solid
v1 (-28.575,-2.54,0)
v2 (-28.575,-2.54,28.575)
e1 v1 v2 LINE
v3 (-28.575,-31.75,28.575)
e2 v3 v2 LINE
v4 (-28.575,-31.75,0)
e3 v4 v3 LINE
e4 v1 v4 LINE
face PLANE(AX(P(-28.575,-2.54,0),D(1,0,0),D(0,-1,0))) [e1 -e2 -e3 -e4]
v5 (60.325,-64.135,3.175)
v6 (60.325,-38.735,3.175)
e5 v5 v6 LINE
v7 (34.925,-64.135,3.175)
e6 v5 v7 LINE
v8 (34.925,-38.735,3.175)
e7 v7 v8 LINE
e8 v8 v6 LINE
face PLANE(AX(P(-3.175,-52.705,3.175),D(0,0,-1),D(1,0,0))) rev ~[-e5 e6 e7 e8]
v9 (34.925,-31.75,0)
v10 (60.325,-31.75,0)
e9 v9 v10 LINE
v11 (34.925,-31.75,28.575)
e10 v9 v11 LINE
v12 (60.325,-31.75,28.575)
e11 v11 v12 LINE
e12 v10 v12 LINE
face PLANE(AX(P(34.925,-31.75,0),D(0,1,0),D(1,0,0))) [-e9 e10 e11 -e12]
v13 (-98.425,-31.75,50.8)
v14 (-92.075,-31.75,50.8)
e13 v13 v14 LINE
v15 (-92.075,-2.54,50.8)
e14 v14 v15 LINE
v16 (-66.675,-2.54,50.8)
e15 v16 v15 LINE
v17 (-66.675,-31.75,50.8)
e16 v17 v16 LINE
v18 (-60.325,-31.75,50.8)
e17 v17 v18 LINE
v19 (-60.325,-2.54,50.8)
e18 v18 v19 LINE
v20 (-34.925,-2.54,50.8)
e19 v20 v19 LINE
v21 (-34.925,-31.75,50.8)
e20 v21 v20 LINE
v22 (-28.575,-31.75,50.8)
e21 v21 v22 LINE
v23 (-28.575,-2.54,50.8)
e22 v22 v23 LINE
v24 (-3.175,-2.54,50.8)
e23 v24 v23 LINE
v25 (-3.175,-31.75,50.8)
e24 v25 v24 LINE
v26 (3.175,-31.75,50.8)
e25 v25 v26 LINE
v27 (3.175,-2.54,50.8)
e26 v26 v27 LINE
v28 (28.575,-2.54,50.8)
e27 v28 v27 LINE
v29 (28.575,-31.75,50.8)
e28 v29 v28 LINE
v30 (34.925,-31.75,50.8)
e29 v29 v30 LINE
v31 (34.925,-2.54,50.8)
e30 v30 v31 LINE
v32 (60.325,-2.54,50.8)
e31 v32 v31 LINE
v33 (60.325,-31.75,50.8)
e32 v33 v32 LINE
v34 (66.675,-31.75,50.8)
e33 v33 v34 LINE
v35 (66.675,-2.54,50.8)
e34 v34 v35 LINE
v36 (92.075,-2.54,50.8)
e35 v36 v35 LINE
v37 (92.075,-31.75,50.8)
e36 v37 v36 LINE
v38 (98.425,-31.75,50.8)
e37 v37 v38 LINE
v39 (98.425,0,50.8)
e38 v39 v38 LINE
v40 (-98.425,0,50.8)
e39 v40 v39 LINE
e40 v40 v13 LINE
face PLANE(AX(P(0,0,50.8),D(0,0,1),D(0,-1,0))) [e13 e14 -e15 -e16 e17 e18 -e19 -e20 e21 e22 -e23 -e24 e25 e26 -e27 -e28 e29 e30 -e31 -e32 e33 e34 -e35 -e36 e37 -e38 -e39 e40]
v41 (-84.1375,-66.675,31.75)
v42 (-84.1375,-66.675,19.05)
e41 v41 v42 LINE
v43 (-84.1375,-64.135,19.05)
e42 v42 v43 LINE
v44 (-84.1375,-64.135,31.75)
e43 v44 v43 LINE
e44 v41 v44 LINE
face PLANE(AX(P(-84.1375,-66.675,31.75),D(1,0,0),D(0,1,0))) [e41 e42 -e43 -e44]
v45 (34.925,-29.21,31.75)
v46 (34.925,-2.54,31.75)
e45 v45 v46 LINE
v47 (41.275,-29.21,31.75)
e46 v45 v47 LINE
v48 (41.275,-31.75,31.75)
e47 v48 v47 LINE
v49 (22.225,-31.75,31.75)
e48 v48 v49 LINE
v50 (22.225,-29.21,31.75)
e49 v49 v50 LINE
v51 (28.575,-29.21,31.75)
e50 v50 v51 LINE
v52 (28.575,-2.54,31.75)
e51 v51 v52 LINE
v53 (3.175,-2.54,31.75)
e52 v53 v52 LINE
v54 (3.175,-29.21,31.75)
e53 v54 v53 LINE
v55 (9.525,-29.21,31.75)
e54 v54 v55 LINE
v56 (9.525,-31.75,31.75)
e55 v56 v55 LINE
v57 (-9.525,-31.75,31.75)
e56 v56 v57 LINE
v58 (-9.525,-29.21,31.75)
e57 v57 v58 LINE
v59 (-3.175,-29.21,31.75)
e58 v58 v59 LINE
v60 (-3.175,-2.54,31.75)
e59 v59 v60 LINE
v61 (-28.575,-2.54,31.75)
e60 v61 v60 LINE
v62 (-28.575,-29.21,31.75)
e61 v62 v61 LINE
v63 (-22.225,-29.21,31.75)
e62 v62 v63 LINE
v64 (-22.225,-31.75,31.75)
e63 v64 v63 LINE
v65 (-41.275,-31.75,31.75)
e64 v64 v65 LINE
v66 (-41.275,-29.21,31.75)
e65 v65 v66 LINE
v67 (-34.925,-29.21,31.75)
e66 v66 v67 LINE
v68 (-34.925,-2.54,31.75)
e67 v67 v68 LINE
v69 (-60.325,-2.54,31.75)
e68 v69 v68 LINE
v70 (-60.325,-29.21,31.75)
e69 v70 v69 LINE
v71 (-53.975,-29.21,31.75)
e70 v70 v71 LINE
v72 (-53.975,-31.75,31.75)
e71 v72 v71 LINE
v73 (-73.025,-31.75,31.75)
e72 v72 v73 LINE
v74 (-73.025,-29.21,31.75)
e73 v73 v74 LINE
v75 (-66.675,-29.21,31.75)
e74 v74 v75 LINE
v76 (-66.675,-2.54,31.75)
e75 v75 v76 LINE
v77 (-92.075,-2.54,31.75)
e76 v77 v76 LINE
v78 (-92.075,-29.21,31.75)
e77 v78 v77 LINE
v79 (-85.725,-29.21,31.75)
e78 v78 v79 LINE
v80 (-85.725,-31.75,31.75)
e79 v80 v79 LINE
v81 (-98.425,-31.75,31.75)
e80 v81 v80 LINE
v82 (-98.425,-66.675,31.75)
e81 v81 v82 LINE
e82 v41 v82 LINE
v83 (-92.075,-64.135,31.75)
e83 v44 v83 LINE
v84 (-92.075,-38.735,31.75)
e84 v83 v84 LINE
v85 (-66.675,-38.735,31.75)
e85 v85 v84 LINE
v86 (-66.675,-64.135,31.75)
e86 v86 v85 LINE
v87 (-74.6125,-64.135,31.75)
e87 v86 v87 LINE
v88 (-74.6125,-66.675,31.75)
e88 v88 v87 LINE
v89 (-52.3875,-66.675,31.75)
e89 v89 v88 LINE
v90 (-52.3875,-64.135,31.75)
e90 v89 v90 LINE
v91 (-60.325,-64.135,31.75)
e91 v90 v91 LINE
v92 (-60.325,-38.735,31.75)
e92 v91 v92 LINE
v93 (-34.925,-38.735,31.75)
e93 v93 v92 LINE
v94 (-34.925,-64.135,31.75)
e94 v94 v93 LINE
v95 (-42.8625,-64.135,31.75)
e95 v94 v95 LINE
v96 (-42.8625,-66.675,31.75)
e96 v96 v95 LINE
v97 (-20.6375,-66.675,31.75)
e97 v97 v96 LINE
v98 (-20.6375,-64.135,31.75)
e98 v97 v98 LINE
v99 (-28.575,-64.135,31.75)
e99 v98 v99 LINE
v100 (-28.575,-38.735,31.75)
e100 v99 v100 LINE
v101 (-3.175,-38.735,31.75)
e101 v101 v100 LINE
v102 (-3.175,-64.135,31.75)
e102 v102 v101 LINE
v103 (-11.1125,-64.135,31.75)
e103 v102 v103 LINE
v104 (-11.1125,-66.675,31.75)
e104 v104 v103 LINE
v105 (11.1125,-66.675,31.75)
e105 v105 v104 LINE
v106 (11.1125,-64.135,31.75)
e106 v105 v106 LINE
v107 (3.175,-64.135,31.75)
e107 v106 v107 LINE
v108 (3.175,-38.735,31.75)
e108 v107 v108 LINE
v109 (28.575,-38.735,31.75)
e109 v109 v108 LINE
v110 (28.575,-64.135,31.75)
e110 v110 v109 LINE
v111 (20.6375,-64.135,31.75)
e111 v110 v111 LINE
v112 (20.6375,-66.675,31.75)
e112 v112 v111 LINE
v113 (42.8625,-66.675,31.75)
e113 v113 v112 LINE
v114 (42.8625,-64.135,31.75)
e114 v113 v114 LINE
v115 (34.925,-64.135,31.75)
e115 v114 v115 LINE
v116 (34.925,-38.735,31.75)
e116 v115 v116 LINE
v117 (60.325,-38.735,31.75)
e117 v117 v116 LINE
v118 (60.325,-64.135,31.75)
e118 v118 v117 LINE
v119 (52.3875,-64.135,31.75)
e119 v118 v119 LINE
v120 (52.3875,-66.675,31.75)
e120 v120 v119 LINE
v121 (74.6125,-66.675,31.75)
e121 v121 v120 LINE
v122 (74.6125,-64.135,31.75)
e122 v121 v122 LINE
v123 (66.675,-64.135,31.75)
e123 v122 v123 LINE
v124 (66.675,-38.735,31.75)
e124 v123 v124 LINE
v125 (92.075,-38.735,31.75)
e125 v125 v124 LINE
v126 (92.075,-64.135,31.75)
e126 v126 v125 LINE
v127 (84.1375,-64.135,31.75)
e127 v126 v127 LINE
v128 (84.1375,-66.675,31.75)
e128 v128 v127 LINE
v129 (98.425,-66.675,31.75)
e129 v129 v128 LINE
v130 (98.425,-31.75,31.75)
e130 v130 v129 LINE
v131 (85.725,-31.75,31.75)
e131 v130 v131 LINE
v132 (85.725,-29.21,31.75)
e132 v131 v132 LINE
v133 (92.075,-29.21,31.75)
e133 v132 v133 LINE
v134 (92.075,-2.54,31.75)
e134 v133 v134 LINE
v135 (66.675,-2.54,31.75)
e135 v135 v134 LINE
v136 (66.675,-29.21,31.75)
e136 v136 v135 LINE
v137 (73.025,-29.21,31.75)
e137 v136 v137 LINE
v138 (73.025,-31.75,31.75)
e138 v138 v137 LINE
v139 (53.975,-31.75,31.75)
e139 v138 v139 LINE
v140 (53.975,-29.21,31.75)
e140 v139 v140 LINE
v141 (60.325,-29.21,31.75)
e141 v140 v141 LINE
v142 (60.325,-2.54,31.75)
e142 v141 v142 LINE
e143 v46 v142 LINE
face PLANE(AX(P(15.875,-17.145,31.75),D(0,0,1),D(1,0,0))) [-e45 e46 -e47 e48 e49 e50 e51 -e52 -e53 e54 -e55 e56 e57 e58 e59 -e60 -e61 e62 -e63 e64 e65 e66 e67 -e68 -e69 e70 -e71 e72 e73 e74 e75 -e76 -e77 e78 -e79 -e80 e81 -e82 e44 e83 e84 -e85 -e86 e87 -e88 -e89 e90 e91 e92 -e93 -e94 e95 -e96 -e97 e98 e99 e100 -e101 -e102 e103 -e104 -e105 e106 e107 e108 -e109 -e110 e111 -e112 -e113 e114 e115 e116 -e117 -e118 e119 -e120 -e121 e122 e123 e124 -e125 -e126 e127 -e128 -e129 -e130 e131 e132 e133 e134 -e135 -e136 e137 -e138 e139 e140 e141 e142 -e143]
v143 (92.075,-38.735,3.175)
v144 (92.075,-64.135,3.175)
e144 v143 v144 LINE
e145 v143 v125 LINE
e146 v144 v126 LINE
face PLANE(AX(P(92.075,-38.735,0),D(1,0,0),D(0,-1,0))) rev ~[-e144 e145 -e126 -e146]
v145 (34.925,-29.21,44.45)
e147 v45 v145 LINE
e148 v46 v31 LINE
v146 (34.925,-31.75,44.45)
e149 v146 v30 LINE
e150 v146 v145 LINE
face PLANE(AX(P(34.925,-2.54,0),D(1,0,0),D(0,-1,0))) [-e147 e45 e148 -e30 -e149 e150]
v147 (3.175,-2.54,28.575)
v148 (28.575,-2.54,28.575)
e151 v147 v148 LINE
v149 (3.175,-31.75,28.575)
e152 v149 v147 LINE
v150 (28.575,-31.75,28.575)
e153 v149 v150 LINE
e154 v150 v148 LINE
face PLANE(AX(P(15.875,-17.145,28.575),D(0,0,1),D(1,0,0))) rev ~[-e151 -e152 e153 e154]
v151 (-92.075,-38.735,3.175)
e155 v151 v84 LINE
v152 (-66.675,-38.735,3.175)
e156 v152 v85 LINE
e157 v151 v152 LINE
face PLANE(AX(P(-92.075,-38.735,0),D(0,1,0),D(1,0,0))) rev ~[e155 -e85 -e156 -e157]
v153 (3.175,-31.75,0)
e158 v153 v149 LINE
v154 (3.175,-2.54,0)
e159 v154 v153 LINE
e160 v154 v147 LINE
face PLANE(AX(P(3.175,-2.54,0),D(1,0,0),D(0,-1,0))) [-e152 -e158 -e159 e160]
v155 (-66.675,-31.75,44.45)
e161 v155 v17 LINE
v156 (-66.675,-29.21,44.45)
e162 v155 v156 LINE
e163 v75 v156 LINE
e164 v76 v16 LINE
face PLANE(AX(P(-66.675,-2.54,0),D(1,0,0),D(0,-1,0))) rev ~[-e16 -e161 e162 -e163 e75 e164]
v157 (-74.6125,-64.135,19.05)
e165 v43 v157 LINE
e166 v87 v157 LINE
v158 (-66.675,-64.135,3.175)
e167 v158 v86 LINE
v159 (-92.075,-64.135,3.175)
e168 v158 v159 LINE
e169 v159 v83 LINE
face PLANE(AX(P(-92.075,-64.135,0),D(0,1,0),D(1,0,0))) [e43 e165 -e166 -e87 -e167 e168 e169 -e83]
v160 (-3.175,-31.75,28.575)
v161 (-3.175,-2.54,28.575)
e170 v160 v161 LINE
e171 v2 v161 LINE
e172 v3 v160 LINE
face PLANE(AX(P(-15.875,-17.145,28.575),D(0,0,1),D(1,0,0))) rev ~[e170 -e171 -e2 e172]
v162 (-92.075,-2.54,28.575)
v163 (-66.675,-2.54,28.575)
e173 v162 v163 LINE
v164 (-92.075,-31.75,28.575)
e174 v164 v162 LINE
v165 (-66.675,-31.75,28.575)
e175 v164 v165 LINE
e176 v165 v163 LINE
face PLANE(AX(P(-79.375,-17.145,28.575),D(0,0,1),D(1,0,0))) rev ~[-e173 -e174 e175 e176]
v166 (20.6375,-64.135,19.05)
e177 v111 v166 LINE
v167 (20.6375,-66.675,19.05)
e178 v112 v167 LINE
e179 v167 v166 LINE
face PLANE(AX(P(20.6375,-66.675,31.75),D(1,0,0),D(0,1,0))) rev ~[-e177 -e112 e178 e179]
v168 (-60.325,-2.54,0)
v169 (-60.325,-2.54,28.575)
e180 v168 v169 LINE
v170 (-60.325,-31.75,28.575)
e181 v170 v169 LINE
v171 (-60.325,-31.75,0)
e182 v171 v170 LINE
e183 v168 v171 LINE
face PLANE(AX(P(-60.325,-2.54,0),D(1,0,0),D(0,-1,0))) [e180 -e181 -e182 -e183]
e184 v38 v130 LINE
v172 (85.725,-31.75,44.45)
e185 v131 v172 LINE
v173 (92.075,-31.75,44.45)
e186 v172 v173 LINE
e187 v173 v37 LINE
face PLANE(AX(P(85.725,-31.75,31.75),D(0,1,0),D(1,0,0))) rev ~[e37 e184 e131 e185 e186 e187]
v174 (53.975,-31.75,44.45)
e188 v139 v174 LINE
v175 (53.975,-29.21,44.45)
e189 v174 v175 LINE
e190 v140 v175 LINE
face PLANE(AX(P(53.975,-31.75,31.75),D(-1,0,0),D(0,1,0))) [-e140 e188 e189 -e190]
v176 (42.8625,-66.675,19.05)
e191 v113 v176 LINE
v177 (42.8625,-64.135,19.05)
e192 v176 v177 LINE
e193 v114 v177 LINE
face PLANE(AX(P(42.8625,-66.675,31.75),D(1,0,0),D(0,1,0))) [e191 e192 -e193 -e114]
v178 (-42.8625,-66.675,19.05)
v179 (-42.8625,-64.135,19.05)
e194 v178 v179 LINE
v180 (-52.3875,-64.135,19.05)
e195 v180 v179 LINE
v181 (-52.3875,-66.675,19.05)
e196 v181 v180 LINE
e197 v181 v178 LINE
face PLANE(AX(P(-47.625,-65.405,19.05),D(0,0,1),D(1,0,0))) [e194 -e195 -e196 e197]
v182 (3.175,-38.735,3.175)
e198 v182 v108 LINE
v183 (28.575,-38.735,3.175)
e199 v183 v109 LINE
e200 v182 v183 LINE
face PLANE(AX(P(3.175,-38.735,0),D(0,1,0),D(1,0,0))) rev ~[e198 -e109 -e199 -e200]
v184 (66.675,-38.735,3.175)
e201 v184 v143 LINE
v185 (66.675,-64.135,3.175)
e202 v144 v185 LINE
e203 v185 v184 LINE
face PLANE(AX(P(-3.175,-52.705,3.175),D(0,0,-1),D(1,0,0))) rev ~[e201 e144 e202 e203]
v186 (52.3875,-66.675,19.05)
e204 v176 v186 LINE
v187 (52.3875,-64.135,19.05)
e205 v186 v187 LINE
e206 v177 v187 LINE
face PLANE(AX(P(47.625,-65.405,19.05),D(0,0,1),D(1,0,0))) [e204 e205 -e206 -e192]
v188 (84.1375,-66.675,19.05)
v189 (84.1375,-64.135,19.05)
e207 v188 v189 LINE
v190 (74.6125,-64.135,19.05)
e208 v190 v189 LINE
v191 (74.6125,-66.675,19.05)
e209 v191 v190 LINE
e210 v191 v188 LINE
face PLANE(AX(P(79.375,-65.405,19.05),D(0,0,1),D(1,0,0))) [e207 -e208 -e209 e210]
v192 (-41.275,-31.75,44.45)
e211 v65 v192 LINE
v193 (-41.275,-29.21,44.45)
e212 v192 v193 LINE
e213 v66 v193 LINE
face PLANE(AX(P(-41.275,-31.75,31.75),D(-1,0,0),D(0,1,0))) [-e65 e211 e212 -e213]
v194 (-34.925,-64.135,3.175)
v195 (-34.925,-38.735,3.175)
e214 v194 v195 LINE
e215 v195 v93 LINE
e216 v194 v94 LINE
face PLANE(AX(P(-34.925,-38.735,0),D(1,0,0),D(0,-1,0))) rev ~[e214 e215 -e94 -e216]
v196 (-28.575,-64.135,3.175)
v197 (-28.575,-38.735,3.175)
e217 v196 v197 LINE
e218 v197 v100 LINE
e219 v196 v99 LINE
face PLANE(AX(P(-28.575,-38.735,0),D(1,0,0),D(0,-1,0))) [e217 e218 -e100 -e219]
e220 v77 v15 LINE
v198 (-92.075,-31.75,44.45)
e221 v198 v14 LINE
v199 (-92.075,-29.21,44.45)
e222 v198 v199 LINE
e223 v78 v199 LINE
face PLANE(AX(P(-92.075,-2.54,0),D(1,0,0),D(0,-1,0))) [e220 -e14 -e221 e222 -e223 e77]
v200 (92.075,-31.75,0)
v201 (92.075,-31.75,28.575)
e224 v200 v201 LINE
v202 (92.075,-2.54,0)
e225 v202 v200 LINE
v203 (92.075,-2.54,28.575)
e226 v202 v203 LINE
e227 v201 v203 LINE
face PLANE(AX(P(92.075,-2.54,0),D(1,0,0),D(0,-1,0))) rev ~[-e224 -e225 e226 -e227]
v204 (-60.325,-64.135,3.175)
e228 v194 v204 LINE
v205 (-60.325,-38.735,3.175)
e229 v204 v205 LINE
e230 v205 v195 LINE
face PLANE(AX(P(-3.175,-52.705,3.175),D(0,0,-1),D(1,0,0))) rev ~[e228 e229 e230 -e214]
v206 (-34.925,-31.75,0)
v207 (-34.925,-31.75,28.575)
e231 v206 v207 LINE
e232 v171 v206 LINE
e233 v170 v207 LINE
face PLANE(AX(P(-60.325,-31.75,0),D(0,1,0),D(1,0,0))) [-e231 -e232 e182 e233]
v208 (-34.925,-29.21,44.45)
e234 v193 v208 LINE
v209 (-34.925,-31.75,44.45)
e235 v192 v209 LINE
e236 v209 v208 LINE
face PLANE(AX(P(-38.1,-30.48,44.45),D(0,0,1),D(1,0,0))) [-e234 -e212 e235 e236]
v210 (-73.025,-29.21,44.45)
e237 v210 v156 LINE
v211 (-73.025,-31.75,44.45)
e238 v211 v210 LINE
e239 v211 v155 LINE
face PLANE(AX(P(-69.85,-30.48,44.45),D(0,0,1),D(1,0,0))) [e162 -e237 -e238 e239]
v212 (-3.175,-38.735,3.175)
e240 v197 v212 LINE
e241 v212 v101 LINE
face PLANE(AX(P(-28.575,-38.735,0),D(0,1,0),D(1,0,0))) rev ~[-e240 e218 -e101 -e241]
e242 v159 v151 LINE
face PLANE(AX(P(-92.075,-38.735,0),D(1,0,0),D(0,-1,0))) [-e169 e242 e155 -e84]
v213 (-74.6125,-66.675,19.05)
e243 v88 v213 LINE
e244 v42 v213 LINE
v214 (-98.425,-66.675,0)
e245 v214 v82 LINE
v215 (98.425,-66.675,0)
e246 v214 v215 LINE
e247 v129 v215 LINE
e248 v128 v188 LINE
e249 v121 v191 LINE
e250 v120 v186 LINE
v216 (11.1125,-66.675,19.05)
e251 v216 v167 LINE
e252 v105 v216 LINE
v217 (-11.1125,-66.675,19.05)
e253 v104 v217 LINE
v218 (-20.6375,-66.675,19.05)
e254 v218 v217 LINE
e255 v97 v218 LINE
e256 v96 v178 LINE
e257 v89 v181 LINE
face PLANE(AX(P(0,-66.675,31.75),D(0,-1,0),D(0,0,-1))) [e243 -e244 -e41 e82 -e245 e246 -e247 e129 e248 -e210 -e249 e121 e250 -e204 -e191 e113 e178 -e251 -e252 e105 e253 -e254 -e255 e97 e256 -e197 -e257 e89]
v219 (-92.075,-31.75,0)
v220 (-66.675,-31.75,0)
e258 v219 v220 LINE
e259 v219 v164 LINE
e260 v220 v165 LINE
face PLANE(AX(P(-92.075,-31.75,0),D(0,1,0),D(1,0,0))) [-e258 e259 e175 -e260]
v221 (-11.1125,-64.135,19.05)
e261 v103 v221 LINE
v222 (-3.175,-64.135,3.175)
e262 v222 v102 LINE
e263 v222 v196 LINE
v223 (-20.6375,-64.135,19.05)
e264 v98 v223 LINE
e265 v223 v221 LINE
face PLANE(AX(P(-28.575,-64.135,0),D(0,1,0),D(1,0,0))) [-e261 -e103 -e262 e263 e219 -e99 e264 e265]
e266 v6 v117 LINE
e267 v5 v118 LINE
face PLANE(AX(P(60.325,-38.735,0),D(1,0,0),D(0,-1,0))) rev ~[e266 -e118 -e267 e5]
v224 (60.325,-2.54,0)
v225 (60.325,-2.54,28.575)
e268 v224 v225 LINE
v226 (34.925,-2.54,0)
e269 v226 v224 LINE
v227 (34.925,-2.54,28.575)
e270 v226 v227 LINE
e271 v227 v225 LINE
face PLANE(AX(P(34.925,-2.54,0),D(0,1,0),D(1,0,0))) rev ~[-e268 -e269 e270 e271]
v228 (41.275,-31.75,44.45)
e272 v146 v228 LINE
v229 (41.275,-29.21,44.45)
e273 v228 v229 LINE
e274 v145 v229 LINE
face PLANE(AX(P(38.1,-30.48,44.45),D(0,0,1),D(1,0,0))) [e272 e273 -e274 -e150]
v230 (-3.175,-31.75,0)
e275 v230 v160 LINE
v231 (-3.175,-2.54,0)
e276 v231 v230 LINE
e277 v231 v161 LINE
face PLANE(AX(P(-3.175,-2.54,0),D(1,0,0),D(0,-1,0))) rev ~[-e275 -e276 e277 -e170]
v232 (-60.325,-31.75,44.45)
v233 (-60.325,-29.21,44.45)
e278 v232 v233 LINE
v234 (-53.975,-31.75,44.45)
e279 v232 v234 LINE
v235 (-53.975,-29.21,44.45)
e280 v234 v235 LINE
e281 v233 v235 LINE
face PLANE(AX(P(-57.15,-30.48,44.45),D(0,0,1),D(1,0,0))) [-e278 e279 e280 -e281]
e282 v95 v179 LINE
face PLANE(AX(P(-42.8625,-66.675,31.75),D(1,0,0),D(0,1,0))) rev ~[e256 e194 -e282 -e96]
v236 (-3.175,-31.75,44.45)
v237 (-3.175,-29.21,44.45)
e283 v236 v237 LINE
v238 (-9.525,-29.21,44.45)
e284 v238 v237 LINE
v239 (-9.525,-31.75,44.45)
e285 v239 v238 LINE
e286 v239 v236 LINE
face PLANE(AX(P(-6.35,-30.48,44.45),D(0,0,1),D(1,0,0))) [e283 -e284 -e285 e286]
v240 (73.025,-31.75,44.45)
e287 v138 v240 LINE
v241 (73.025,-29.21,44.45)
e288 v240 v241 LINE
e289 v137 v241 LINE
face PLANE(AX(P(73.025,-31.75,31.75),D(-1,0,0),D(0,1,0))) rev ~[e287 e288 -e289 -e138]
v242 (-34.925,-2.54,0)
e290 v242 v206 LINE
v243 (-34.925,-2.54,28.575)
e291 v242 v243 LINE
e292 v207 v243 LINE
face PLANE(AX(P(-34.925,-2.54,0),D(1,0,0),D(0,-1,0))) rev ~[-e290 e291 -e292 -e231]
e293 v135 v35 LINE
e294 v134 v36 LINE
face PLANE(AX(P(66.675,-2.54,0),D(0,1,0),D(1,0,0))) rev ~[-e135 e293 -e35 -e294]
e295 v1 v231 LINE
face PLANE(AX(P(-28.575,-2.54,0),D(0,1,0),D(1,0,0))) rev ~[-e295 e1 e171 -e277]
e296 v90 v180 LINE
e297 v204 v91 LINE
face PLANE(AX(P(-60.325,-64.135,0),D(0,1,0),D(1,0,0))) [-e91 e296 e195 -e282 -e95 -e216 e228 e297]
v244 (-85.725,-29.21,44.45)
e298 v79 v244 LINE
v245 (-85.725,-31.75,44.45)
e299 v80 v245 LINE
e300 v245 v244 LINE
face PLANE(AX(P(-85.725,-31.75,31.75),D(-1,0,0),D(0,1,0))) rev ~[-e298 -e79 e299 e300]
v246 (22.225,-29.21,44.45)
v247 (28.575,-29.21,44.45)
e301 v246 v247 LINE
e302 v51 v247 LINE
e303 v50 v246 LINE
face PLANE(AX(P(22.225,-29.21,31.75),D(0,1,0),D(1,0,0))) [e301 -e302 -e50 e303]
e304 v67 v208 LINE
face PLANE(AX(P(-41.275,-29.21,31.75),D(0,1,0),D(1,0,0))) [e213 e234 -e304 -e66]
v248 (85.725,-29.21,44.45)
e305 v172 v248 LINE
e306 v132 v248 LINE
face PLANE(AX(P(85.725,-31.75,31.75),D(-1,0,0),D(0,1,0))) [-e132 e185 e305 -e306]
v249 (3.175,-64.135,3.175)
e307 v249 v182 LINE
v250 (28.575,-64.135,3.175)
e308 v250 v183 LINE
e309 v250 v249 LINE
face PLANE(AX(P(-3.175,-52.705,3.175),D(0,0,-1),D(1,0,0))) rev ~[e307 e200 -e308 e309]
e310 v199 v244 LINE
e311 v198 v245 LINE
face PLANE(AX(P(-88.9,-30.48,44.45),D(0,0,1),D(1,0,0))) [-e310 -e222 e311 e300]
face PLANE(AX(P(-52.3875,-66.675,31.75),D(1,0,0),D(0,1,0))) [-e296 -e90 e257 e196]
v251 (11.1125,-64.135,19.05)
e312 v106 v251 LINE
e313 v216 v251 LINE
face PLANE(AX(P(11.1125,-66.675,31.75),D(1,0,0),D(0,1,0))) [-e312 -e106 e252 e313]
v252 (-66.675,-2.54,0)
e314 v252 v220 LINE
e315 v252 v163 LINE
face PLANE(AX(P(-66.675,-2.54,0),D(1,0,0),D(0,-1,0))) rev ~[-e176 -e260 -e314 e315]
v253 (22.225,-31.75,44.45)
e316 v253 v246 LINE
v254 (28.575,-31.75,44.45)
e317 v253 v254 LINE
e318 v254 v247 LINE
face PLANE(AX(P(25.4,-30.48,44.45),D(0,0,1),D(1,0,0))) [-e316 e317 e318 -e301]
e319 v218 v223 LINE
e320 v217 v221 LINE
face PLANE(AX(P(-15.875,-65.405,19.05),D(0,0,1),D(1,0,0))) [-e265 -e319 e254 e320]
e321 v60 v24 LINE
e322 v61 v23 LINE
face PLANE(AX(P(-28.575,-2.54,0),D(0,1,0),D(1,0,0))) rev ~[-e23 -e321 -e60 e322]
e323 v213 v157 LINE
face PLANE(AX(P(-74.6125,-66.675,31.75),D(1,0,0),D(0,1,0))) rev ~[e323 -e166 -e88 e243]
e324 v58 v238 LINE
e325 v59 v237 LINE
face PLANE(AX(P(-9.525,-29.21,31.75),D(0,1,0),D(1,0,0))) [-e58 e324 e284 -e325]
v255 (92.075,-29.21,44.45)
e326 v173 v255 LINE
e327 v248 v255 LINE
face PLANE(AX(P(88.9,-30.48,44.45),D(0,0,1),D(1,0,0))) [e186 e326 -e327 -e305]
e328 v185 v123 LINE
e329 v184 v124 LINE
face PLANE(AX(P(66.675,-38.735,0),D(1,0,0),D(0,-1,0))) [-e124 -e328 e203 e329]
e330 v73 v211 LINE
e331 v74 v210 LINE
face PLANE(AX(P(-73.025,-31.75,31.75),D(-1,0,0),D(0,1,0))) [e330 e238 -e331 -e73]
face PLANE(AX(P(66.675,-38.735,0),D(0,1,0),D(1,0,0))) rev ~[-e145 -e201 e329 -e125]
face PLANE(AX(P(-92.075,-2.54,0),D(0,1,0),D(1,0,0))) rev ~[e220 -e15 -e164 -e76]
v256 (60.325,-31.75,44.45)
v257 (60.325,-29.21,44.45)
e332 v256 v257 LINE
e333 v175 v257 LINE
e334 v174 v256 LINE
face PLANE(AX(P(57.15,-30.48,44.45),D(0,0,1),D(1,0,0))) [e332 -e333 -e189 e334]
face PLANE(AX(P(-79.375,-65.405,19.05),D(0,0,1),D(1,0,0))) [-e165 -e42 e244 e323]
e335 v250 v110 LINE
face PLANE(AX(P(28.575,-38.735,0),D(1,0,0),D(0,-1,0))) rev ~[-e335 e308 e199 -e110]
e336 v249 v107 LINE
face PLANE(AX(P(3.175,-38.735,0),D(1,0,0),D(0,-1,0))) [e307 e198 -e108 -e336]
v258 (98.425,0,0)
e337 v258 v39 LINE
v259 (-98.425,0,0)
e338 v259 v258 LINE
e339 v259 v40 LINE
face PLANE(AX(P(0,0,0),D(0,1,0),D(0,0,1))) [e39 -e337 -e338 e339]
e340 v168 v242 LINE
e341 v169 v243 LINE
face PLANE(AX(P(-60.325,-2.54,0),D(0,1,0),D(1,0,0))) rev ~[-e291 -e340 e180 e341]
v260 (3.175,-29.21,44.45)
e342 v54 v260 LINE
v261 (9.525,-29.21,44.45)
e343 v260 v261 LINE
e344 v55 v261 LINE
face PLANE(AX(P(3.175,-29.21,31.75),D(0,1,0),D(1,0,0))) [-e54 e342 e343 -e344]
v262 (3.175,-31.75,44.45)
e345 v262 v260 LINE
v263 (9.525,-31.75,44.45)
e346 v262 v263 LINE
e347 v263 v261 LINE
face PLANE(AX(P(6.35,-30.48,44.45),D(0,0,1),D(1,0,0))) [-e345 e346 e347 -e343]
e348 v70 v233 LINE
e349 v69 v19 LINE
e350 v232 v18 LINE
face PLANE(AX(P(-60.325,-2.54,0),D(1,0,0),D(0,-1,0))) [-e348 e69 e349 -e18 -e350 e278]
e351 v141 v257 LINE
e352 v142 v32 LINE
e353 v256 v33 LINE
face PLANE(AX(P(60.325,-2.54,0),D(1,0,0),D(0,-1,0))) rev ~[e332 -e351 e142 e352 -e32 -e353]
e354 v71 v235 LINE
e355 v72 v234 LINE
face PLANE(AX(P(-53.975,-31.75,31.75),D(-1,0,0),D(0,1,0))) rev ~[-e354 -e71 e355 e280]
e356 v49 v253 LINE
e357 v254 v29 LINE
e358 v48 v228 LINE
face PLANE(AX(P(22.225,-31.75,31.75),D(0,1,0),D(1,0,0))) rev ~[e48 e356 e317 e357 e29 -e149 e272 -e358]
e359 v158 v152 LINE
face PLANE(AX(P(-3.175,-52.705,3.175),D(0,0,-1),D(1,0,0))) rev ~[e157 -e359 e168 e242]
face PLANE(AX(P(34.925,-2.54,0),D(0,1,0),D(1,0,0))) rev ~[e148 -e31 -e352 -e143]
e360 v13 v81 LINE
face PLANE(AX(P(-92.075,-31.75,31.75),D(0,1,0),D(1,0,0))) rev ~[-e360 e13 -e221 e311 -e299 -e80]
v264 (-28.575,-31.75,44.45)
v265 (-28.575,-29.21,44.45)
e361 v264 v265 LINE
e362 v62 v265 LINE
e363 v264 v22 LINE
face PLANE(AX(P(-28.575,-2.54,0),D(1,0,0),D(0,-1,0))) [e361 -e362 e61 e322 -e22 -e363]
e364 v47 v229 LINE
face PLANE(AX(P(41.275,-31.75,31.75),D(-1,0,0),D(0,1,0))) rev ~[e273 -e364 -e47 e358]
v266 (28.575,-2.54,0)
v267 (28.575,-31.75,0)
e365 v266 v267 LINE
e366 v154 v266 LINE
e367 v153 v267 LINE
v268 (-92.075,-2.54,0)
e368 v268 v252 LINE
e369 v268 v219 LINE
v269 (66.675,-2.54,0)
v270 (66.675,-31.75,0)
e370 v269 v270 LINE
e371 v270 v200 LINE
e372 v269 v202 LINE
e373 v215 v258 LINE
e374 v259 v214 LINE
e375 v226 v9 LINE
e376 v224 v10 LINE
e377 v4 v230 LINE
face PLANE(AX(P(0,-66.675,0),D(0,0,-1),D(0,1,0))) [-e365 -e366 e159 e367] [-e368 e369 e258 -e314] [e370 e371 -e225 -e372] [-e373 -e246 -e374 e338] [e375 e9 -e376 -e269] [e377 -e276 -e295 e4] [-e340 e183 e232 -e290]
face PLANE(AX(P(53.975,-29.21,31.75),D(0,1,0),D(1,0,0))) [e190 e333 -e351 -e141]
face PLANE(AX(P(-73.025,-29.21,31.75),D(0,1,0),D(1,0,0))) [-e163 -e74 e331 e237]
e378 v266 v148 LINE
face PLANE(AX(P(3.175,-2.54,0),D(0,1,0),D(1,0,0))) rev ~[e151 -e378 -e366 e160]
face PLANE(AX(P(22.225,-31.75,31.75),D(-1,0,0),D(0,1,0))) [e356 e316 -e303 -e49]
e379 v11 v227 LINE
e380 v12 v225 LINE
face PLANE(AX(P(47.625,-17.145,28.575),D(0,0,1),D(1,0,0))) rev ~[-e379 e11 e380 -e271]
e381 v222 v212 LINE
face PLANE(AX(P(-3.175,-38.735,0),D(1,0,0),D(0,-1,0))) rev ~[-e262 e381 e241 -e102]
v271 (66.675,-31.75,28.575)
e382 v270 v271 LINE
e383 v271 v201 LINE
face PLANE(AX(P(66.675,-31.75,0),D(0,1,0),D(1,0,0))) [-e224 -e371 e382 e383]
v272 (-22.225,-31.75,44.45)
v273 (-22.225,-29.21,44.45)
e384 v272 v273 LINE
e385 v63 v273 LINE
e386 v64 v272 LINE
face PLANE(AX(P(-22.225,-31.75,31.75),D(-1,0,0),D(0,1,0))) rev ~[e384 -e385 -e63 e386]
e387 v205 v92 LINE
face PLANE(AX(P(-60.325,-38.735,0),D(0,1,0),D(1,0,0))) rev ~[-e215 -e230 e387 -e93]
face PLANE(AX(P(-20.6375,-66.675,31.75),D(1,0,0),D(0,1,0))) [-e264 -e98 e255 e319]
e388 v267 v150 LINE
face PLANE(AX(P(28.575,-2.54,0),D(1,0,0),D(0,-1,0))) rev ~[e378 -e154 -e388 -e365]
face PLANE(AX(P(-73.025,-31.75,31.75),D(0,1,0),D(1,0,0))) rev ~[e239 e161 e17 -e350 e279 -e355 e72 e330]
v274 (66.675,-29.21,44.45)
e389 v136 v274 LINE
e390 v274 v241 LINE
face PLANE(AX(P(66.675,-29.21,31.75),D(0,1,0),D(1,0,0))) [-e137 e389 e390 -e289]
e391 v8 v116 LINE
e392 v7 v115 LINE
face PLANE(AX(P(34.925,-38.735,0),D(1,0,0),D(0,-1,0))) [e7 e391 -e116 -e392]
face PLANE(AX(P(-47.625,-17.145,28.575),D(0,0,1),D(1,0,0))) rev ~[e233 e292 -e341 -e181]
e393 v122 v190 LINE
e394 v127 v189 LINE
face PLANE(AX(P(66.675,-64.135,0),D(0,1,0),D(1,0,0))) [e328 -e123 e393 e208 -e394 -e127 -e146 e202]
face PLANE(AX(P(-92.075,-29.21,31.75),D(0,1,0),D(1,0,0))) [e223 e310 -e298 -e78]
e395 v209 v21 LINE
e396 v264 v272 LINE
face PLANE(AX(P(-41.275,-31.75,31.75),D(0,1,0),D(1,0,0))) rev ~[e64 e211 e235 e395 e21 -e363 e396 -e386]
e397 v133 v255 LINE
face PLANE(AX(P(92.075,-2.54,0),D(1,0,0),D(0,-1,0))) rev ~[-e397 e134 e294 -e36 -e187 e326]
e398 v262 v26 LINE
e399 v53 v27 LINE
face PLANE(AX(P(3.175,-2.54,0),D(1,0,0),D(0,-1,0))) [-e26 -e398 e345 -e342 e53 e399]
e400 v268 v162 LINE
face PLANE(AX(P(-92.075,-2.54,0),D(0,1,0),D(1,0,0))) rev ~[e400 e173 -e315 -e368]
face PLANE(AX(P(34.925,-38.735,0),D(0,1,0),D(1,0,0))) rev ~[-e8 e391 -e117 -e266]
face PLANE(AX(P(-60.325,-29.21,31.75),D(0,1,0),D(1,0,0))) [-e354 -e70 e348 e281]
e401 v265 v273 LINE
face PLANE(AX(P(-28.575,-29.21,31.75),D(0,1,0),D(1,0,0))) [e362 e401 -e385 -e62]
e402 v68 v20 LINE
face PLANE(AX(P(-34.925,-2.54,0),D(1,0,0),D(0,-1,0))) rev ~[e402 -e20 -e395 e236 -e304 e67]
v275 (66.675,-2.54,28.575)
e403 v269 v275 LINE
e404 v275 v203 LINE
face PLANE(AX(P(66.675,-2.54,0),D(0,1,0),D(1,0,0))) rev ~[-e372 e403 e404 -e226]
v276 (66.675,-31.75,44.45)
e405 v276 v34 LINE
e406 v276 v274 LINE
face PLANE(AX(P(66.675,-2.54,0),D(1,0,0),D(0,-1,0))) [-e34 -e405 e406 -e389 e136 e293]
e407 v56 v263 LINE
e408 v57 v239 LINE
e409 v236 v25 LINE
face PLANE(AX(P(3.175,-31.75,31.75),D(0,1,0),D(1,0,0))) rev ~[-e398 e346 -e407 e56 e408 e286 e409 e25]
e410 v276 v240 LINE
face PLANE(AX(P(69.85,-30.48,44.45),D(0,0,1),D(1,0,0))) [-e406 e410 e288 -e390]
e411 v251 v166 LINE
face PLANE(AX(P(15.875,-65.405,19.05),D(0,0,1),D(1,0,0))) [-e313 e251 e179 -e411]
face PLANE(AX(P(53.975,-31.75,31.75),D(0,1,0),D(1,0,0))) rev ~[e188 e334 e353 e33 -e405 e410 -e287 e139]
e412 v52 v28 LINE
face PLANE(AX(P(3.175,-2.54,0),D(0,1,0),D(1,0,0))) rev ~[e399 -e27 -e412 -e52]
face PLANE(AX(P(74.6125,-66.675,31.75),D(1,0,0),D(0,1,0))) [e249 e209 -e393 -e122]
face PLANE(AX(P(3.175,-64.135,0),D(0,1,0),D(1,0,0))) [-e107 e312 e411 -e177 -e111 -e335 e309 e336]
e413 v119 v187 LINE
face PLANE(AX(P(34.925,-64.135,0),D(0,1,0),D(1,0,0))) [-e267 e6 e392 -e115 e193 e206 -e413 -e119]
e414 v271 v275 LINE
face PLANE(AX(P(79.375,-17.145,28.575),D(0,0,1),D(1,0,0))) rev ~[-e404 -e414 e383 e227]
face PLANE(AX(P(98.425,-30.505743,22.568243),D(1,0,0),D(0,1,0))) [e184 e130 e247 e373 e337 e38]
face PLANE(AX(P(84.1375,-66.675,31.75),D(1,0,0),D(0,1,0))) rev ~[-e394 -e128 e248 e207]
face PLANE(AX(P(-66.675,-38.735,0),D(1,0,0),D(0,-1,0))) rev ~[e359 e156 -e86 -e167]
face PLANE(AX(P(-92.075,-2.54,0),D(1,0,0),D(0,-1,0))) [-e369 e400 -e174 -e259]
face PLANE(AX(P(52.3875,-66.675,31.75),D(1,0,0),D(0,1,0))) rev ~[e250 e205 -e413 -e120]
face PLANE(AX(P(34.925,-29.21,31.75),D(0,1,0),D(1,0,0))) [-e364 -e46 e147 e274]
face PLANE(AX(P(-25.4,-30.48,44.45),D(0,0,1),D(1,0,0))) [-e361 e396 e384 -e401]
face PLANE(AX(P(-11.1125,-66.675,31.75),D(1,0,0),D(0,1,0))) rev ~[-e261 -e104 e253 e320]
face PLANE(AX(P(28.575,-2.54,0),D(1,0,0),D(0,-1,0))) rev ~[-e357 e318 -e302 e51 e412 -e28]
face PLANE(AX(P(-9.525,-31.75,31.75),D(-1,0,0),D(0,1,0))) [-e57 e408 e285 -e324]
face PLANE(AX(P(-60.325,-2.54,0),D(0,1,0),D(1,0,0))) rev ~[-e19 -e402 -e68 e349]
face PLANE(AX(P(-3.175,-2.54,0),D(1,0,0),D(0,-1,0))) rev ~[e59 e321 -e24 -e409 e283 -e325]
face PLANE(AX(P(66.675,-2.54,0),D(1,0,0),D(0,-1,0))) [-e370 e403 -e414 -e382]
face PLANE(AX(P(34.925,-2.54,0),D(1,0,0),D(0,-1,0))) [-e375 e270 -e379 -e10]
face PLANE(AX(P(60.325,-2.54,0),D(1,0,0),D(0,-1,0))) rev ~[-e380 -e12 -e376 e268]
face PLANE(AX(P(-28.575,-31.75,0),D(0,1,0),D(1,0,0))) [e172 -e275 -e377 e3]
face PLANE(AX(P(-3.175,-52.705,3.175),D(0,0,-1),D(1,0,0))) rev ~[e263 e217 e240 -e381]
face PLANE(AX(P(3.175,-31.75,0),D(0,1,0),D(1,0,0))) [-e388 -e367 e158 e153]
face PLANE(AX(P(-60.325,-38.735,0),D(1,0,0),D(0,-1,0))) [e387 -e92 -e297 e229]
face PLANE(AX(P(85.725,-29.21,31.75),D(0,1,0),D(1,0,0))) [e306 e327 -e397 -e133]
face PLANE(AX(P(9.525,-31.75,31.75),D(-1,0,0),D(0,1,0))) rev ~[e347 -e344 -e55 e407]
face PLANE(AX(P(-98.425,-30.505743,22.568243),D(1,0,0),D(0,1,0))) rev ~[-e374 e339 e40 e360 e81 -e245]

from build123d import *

# Parameters (mm, degrees)
F1_DEPTH  = 98.425
F2_W      = 25.4
F2_H      = 25.4
F2_H_2    = 29.21
F3_DEPTH  = 50.801
F4_W      = 25.4
F4_H      = 29.21
F5_DEPTH  = 3.175
F6_W      = 6.35
F6_H      = 2.54
F7_DEPTH  = 12.7
F8_W      = 9.525
F8_H      = 2.54
F9_DEPTH  = 12.7
F10_W     = 190.5
F10_H     = 27.94
F11_DEPTH = 3.175


with BuildPart() as f1:
    # F0 (on Right) → F1 (new body, symmetric)
    with BuildSketch(Plane.YZ):
        Polygon((-66.675, 0), (0, 0), (0, 50.8), (-31.75, 50.8), (-31.75, 31.75), (-66.675, 31.75), align=None)
    extrude(amount=F1_DEPTH, both=True)

    # F2 (on face) → F3 (cut, through all)
    with BuildSketch(Plane(origin=(0, 0, 0), x_dir=(1, 0, 0), z_dir=(0, 0, -1))):
        with Locations((-15.875, 51.435)):
            Rectangle(F2_W, F2_H)
        with Locations((-15.875, 17.145)):
            Rectangle(F2_W, F2_H_2)
        with Locations((-47.625, 17.145)):
            Rectangle(F2_W, F2_H_2)
        with Locations((-47.625, 51.435)):
            Rectangle(F2_W, F2_H)
        with Locations((-79.375, 17.145)):
            Rectangle(F2_W, F2_H_2)
        with Locations((-79.375, 51.435)):
            Rectangle(F2_W, F2_H)
        with Locations((47.625, 17.145)):
            Rectangle(F2_W, F2_H_2)
        with Locations((15.875, 51.435)):
            Rectangle(F2_W, F2_H)
        with Locations((79.375, 17.145)):
            Rectangle(F2_W, F2_H_2)
        with Locations((47.625, 51.435)):
            Rectangle(F2_W, F2_H)
        with Locations((79.375, 51.435)):
            Rectangle(F2_W, F2_H)
        with Locations((15.875, 17.145)):
            Rectangle(F2_W, F2_H_2)
    extrude(amount=-F3_DEPTH, mode=Mode.SUBTRACT)

    # F4 (on face) → F5 (join)
    with BuildSketch(Plane.XY.offset(31.75)):
        with Locations((15.875, -17.145)):
            Rectangle(F4_W, F4_H)
        with Locations((47.625, -17.145)):
            Rectangle(F4_W, F4_H)
        with Locations((79.375, -17.145)):
            Rectangle(F4_W, F4_H)
        with Locations((-15.875, -17.145)):
            Rectangle(F4_W, F4_H)
        with Locations((-79.375, -17.145)):
            Rectangle(F4_W, F4_H)
        with Locations((-47.625, -17.145)):
            Rectangle(F4_W, F4_H)
    extrude(amount=-F5_DEPTH)

    # F6 (on face) → F7 (join)
    with BuildSketch(Plane.XY.offset(31.75)):
        with Locations((-88.9, -30.48)):
            Rectangle(F6_W, F6_H)
        with Locations((-69.85, -30.48)):
            Rectangle(F6_W, F6_H)
        with Locations((-38.1, -30.48)):
            Rectangle(F6_W, F6_H)
        with Locations((-57.15, -30.48)):
            Rectangle(F6_W, F6_H)
        with Locations((-6.35, -30.48)):
            Rectangle(F6_W, F6_H)
        with Locations((-25.4, -30.48)):
            Rectangle(F6_W, F6_H)
        with Locations((25.4, -30.48)):
            Rectangle(F6_W, F6_H)
        with Locations((6.35, -30.48)):
            Rectangle(F6_W, F6_H)
        with Locations((57.15, -30.48)):
            Rectangle(F6_W, F6_H)
        with Locations((38.1, -30.48)):
            Rectangle(F6_W, F6_H)
        with Locations((88.9, -30.48)):
            Rectangle(F6_W, F6_H)
        with Locations((69.85, -30.48)):
            Rectangle(F6_W, F6_H)
    extrude(amount=F7_DEPTH)

    # F8 (on face) → F9 (cut)
    with BuildSketch(Plane.XY.offset(31.75)):
        with Locations((-79.375, -65.405)):
            Rectangle(F8_W, F8_H)
        with Locations((-47.625, -65.405)):
            Rectangle(F8_W, F8_H)
        with Locations((-15.875, -65.405)):
            Rectangle(F8_W, F8_H)
        with Locations((15.875, -65.405)):
            Rectangle(F8_W, F8_H)
        with Locations((47.625, -65.405)):
            Rectangle(F8_W, F8_H)
        with Locations((79.375, -65.405)):
            Rectangle(F8_W, F8_H)
    extrude(amount=-F9_DEPTH, mode=Mode.SUBTRACT)

    # F10 (on face) → F11 (join)
    with BuildSketch(Plane(origin=(0, 0, 0), x_dir=(1, 0, 0), z_dir=(0, 0, -1))):
        with Locations((-3.175, 52.705)):
            Rectangle(F10_W, F10_H)
    extrude(amount=-F11_DEPTH)


solid = f1.part
